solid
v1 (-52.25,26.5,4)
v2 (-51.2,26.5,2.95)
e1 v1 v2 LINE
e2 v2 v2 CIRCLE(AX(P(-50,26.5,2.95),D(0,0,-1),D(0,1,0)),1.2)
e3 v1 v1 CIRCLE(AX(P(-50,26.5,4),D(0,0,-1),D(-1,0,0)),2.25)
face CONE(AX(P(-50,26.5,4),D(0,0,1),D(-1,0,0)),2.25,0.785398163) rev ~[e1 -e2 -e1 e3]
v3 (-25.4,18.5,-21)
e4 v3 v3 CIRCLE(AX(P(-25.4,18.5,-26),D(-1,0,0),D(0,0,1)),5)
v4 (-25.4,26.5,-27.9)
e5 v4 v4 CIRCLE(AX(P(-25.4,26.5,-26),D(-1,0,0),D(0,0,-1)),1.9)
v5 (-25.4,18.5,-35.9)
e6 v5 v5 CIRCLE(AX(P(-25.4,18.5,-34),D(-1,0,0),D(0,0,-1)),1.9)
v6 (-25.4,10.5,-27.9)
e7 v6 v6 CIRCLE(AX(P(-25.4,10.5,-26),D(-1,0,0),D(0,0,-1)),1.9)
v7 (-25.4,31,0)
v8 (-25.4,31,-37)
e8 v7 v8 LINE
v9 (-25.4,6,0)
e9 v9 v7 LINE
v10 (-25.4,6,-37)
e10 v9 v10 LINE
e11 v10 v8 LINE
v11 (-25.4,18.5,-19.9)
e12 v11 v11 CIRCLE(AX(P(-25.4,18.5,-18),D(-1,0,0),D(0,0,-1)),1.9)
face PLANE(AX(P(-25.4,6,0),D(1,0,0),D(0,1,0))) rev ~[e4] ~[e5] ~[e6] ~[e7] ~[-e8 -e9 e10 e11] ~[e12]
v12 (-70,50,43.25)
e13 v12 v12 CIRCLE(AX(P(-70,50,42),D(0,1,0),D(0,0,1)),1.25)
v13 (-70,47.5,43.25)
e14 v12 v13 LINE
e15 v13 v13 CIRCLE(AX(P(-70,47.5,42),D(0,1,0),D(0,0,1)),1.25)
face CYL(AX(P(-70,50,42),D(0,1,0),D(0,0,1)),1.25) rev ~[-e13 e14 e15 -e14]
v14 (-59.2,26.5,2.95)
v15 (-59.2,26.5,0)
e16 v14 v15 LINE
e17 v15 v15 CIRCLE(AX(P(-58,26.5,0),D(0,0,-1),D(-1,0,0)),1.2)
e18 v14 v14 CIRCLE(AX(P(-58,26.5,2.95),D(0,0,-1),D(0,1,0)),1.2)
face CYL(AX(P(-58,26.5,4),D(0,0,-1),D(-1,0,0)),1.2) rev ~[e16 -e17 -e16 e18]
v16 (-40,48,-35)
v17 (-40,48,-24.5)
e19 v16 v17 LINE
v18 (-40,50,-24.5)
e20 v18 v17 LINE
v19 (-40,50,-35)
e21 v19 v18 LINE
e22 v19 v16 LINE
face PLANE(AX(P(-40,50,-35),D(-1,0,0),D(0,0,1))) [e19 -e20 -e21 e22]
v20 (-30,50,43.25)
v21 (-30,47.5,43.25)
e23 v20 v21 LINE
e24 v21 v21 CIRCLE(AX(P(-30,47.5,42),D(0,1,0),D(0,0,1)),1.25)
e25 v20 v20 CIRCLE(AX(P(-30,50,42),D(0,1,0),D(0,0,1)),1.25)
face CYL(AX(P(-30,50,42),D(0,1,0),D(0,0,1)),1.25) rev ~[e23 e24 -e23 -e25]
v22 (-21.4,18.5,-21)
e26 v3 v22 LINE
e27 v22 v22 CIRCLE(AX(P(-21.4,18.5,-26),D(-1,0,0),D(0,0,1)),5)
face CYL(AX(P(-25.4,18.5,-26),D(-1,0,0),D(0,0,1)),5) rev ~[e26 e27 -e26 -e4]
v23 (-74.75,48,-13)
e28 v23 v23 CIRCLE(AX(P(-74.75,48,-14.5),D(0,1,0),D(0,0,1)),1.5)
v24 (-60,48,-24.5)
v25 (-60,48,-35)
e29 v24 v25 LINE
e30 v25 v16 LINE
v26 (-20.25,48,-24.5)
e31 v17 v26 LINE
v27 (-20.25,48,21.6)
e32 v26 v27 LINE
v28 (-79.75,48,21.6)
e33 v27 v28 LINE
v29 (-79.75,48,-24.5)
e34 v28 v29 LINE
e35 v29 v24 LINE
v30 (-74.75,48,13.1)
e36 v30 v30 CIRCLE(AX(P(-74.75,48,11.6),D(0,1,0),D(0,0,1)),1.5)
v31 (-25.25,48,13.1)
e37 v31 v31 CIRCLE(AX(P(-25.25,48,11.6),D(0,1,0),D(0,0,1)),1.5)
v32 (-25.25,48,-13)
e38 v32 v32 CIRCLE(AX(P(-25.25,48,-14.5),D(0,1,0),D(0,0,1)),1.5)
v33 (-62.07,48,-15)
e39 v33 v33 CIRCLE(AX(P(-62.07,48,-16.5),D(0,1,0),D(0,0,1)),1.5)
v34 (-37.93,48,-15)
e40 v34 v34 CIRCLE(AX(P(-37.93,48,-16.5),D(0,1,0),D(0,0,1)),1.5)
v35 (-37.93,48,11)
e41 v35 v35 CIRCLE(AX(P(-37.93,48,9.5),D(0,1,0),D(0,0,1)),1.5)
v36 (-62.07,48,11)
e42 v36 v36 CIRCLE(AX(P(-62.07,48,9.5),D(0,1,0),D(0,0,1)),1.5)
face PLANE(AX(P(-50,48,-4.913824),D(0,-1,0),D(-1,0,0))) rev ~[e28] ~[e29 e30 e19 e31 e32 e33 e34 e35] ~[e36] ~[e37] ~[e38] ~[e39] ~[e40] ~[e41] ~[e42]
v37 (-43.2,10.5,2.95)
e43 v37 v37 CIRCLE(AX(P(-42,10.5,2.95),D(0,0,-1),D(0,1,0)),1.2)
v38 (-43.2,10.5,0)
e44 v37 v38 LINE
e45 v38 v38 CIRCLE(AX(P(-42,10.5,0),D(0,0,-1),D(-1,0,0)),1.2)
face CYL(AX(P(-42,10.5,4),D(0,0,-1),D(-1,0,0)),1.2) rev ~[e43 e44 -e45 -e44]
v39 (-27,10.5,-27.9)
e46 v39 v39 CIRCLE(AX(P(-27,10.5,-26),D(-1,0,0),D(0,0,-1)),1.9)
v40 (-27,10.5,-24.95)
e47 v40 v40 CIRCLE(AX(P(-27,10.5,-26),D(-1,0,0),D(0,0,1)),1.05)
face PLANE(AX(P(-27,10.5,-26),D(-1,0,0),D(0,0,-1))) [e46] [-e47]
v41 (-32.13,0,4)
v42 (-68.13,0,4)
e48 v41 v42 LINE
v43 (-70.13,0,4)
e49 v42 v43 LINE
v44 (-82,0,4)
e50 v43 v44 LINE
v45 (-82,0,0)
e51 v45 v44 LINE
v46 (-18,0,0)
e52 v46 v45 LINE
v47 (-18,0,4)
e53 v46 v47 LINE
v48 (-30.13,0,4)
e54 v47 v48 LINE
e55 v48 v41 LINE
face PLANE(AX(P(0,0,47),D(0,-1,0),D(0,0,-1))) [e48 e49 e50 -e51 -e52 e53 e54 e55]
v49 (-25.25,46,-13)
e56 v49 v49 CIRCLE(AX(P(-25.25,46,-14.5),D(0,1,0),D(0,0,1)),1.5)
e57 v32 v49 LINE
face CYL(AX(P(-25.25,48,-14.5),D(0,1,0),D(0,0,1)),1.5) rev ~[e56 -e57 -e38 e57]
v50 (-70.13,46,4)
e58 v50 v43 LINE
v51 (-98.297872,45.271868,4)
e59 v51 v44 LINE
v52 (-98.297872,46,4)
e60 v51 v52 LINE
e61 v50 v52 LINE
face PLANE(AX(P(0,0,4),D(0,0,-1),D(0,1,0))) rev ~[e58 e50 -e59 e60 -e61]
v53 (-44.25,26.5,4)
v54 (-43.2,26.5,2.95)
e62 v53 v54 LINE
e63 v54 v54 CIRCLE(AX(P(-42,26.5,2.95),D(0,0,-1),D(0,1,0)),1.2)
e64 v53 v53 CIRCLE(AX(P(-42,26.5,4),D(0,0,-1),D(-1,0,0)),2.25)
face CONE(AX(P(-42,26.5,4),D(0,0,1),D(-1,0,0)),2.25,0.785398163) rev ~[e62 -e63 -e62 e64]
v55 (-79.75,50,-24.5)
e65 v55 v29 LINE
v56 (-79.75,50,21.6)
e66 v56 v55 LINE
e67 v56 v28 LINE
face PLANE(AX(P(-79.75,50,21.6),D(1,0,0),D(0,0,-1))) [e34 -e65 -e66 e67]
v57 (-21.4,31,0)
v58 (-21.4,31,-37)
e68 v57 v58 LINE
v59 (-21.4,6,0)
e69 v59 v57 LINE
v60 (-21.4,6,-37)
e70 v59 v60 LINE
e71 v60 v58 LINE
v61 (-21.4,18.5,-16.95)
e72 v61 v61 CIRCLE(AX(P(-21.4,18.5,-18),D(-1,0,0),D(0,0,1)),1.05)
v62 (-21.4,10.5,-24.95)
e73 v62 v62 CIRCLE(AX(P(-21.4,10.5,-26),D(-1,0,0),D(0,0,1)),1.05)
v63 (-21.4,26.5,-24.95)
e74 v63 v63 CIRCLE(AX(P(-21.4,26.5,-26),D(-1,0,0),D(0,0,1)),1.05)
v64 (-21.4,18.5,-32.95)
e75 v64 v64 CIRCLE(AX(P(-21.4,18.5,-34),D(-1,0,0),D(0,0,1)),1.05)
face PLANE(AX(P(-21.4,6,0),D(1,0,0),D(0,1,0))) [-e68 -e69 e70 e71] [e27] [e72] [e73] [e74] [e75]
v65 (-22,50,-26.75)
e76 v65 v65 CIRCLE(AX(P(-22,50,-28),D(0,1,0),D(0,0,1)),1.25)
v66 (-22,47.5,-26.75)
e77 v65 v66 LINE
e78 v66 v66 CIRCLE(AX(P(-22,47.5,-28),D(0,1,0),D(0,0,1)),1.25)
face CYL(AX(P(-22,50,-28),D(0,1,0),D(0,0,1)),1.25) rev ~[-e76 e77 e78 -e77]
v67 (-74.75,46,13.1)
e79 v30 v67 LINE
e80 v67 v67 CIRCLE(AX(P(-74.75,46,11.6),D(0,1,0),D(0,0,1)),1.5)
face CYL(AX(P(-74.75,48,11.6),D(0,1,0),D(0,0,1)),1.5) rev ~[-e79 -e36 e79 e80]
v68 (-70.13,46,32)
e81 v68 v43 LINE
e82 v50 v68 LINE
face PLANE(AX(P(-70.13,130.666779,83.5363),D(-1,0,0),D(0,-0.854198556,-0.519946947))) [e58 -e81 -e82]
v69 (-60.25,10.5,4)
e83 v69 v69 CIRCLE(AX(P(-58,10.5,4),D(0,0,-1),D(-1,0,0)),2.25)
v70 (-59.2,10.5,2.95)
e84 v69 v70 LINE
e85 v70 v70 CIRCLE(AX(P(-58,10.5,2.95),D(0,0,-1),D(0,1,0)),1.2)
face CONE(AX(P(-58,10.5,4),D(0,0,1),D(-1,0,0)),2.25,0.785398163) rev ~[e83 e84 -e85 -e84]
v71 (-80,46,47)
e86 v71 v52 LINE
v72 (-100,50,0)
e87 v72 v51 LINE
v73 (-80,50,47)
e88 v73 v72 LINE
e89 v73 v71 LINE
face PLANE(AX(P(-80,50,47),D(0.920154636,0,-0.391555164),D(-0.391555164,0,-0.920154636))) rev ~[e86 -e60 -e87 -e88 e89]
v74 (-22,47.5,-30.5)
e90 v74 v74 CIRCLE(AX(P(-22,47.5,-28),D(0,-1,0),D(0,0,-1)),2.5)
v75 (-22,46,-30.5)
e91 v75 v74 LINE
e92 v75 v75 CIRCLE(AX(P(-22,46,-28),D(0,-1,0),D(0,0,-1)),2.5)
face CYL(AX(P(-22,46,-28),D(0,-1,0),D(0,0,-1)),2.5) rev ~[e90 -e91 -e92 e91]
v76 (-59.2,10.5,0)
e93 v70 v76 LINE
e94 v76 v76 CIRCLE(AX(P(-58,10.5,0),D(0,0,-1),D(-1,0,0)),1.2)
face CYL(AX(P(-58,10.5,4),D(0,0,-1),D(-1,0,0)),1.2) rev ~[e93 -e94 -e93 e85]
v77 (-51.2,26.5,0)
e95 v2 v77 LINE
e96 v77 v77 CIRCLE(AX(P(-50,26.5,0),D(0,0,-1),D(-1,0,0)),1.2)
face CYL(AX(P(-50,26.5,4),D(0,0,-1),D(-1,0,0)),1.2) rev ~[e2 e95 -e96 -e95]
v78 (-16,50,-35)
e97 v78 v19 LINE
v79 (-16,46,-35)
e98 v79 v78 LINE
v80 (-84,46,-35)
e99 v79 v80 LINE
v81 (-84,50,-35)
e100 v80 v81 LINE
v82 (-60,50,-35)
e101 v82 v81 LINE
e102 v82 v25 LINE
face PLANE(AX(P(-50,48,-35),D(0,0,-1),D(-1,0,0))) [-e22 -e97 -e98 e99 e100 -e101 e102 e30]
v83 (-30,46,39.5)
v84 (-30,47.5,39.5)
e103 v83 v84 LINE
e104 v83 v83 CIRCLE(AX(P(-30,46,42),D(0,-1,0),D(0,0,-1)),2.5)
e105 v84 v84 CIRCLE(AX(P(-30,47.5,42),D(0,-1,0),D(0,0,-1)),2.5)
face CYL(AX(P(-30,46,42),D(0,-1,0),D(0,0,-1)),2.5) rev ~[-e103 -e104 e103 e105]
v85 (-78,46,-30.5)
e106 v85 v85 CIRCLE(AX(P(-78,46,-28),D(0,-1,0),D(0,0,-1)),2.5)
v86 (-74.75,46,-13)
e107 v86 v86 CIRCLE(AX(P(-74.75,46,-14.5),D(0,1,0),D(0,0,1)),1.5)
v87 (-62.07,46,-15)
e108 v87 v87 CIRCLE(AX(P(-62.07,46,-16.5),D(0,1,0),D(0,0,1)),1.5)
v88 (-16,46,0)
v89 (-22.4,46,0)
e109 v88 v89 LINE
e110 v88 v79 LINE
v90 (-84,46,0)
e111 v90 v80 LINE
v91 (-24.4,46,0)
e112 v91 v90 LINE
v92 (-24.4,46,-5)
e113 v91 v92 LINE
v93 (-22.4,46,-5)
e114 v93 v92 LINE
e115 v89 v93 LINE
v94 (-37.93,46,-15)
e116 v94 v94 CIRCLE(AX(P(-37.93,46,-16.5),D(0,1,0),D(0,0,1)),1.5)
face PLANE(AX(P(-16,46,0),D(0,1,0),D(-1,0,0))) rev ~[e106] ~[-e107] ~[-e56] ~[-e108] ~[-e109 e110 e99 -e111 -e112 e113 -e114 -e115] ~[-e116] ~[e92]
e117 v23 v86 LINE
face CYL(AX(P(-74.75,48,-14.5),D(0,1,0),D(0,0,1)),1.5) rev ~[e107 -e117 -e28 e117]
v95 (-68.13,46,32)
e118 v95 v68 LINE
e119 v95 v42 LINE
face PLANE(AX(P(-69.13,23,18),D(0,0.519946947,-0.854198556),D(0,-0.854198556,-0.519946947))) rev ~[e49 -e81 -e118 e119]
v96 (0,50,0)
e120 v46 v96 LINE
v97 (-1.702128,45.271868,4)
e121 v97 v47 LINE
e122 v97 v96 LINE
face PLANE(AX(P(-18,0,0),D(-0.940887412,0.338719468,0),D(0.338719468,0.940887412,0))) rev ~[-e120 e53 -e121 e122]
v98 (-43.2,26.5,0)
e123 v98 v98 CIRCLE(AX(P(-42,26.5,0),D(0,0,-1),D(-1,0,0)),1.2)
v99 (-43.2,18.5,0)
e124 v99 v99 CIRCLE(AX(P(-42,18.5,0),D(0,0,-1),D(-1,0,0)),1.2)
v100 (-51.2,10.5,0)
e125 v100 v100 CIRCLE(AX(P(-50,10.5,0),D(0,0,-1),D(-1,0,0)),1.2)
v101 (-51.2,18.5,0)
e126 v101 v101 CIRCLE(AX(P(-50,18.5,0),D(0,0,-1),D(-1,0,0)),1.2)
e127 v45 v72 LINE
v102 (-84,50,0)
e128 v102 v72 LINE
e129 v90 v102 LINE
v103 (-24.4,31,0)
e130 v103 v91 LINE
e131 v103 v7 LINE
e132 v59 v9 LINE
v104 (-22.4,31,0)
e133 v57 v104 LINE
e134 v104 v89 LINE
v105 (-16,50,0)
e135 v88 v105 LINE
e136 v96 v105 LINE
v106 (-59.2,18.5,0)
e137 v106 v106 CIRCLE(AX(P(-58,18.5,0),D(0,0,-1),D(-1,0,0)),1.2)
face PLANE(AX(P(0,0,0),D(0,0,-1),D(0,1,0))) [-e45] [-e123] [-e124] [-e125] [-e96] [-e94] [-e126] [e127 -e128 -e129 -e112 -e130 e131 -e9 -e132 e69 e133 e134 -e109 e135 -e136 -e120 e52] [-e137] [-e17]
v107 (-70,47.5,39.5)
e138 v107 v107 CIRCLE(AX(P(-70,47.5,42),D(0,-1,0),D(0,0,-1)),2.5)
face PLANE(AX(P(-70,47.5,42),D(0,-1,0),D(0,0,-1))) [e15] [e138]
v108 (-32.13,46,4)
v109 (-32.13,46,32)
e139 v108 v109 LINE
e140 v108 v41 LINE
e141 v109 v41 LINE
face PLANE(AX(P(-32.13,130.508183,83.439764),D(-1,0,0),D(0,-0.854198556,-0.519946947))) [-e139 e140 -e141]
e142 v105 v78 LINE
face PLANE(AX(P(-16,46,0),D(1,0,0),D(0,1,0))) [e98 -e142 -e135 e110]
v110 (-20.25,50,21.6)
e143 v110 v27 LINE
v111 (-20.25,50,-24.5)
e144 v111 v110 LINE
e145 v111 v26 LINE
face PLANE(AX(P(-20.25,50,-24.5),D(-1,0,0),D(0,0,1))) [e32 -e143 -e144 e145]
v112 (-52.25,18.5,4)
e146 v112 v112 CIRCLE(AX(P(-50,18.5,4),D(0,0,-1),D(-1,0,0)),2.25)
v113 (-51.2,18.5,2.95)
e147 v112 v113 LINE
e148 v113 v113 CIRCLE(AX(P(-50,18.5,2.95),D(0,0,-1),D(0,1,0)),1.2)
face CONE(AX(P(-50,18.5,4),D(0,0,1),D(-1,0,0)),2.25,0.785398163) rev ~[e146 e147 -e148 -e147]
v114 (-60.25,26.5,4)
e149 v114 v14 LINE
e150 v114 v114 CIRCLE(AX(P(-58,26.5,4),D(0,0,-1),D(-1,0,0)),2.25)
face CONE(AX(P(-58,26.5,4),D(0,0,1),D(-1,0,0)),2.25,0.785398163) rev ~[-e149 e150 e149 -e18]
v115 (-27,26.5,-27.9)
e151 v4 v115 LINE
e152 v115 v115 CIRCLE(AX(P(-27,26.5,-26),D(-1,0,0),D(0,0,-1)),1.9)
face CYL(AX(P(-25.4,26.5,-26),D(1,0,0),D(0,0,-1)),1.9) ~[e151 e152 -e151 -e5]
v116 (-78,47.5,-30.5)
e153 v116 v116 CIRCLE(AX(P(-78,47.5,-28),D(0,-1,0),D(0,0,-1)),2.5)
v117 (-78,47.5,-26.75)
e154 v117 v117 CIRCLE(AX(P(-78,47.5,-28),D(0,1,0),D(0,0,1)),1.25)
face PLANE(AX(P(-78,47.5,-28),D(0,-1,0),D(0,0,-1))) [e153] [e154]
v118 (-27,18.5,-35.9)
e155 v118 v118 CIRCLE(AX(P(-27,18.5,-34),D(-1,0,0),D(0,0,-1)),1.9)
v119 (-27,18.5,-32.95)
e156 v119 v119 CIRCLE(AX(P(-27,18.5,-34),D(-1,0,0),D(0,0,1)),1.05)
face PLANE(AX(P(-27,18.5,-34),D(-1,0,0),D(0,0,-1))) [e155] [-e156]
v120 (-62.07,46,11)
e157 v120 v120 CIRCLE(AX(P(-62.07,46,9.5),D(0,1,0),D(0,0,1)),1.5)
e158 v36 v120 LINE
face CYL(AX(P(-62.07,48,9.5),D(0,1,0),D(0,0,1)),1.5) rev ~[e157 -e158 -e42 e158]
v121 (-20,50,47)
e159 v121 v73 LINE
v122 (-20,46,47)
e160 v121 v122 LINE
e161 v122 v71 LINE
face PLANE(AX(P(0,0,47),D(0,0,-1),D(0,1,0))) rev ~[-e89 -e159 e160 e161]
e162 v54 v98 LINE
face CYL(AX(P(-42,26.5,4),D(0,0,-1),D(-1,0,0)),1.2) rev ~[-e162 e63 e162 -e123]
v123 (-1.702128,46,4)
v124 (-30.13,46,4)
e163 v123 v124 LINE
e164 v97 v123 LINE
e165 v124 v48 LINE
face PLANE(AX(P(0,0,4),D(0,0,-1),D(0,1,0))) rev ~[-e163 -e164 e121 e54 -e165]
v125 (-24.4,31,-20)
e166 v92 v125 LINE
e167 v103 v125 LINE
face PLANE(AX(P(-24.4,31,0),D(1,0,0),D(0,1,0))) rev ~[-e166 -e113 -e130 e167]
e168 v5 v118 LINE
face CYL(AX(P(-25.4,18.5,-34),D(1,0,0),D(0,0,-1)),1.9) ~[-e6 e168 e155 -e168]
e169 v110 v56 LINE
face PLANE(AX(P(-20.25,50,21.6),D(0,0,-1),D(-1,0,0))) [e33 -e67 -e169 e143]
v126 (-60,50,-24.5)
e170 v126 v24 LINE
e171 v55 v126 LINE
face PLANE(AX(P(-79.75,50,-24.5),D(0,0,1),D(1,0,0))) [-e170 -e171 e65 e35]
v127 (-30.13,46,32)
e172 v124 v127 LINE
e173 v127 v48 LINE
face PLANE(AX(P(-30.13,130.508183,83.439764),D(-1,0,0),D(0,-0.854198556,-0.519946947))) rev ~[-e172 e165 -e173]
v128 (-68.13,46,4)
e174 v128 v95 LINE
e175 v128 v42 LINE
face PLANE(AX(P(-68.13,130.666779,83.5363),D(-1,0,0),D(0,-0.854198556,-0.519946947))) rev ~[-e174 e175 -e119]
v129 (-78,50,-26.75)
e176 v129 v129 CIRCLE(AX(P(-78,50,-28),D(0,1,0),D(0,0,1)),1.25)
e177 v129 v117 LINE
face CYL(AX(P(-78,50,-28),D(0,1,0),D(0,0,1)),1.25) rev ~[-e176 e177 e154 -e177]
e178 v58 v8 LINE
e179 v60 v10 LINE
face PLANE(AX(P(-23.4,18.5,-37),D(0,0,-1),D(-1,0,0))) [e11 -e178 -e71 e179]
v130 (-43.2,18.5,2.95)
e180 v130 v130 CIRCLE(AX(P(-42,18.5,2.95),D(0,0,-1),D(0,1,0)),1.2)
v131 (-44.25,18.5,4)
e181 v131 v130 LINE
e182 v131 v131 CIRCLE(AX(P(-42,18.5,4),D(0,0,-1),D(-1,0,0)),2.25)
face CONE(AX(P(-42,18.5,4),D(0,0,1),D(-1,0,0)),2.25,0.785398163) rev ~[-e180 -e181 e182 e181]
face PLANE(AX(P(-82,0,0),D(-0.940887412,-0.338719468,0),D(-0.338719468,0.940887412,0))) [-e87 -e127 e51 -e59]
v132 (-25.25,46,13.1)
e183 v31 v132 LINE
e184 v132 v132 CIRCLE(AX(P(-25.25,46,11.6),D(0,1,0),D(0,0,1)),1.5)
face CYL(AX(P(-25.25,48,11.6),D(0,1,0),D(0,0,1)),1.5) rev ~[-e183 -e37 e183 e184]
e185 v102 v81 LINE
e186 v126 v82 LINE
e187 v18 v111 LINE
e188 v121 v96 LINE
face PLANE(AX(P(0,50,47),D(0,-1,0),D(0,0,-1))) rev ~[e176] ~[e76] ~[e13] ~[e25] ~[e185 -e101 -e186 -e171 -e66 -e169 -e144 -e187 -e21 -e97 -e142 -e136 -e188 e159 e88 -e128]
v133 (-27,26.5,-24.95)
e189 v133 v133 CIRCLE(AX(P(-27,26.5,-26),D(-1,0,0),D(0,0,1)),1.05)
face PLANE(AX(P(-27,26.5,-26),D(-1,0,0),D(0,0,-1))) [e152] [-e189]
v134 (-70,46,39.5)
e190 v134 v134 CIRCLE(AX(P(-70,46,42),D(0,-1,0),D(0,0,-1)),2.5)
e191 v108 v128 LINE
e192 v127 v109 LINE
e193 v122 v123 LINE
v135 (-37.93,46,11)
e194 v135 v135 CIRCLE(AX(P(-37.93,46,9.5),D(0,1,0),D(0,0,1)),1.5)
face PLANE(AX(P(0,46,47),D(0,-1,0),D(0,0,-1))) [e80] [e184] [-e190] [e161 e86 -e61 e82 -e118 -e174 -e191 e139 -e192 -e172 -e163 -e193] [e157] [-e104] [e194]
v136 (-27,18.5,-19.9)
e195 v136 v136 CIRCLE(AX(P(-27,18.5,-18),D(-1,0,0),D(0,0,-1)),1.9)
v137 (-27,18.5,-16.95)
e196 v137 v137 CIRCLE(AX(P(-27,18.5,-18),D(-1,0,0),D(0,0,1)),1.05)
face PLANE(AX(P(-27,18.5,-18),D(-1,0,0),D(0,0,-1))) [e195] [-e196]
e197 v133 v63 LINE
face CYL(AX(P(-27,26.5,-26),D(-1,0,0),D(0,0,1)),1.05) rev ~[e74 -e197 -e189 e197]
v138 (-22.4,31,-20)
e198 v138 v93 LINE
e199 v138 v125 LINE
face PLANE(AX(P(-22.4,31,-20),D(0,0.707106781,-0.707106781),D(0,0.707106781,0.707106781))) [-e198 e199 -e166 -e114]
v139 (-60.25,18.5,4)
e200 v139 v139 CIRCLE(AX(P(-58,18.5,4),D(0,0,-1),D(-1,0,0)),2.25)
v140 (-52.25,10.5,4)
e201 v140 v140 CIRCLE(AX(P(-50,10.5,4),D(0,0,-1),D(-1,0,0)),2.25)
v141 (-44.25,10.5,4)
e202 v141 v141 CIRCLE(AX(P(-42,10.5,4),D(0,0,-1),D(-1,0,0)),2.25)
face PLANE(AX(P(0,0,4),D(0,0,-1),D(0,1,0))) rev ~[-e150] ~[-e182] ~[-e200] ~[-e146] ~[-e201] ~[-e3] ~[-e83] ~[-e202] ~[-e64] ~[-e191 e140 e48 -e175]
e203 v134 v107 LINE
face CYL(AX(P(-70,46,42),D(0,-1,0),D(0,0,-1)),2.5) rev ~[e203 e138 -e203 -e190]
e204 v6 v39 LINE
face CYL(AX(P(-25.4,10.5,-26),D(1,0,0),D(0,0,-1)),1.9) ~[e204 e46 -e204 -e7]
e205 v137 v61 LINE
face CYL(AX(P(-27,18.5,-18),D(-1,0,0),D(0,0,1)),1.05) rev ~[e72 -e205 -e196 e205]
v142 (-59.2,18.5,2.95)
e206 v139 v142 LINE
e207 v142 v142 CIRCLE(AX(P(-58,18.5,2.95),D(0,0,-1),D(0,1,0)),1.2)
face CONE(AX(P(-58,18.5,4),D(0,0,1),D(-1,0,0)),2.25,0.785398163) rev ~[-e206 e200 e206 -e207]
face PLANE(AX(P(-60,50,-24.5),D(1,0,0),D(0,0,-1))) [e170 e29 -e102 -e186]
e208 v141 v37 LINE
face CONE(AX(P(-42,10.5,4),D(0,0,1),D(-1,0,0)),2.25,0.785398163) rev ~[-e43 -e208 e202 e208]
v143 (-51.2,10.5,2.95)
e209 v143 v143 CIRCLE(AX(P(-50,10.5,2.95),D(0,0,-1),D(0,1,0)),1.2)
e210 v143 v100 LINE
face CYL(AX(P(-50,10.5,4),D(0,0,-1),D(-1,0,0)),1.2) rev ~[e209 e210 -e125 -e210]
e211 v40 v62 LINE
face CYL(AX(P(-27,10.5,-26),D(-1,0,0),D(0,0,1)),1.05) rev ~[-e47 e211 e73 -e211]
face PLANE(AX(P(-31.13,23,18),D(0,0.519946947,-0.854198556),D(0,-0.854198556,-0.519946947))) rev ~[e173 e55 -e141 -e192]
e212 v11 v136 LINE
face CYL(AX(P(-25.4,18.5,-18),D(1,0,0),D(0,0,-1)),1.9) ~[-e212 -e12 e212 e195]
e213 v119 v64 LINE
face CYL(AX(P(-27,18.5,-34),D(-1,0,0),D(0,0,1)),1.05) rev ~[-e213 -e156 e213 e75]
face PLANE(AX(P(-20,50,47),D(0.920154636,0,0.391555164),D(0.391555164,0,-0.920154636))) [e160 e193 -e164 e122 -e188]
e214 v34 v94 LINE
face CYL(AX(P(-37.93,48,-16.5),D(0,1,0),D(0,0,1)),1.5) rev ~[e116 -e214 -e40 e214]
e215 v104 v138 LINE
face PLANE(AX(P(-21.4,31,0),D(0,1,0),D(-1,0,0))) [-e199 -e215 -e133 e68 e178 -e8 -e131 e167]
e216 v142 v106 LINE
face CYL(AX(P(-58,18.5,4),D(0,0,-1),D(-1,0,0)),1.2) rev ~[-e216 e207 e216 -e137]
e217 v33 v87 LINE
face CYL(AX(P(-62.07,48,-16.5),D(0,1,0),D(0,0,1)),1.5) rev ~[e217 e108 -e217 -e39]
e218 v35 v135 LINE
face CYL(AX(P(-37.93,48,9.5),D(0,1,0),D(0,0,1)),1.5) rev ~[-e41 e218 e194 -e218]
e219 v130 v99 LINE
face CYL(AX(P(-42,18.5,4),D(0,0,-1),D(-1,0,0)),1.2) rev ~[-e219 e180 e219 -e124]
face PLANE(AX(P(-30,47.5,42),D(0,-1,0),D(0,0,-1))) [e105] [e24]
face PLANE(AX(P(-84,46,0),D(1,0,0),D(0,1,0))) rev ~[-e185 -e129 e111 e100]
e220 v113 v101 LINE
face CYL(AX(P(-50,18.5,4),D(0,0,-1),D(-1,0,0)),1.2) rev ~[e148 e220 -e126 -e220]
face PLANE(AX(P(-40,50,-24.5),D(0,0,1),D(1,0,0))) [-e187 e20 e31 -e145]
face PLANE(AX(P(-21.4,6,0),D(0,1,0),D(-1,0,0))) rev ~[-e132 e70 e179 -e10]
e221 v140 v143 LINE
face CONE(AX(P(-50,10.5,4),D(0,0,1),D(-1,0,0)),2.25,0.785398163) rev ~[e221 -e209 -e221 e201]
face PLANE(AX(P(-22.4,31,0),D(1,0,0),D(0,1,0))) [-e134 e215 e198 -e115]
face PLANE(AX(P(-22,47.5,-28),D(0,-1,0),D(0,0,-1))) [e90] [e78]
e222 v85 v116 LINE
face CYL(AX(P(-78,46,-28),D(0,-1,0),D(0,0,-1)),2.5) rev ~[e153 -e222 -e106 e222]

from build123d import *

# Parameters (mm, degrees)
SKETCH_1_W                = 47
SKETCH_1_H                = 50
EXTRUDE_1_DEPTH           = 100
SKETCH_2_W                = 43
SKETCH_2_H                = 46
CUT_EXTRUDE_1_DEPTH       = 122.280666225
HOLE_WIZARD_1_D           = 2.4
HOLE_WIZARD_1_CSINK_D     = 4.5
HOLE_WIZARD_1_CSINK_ANGLE = 90
SKETCH_31_W               = 4
SKETCH_31_H               = 25
EXTRUDE_4_DEPTH           = 37
SKETCH_32_R               = 5
CUT_EXTRUDE_2_DEPTH       = 4
SKETCH_33_R               = 1.9
EXTRUDE_5_DEPTH           = 1.6
SKETCH_34_R               = 1.05
CUT_EXTRUDE_3_DEPTH       = 101.189819842
SKETCH_35_W               = 68
SKETCH_35_H               = 4
EXTRUDE_6_DEPTH           = 35
CUT_EXTRUDE_4_REACH       = 123.281
SKETCH_36_R               = 1.25
CUT_EXTRUDE_5_REACH       = 123.281
CUT_EXTRUDE_6_REACH       = 123.281
SKETCH_39_R               = 2.5
CUT_EXTRUDE_7_DEPTH       = 1.5
CUT_EXTRUDE_8_DEPTH       = 2
CUT_EXTRUDE_9_REACH       = 122.47
SKETCH_41_R               = 1.5
SKETCH_42_R               = 1.5
CUT_EXTRUDE_10_DEPTH      = 2
RIB_2_REACH               = 99.933
SKETCH_46_WALL_W          = 251.717080448
SKETCH_46_WALL_H          = 2
RIB_3_REACH               = 100.118
SKETCH_47_WALL_W          = 252.08841221
SKETCH_47_WALL_H          = 2
SKETCH_48_W               = 2
SKETCH_48_H               = 15
EXTRUDE_7_DEPTH           = 20
CUT_EXTRUDE_11_REACH      = 105.589


with BuildPart() as part:
    # 草图1 → 凸台-拉伸1 (new body)
    with BuildSketch(Plane(origin=(0, 0, 0), x_dir=(0, 0, -1), z_dir=(1, 0, 0))):
        with Locations((-23.5, 25)):
            Rectangle(SKETCH_1_W, SKETCH_1_H)
    extrude(amount=-EXTRUDE_1_DEPTH)

    # 草图2 → 切除-拉伸1 (cut, through all)
    with BuildSketch(Plane(origin=(0, 0, 0), x_dir=(0, 0, -1), z_dir=(1, 0, 0))):
        with Locations((-25.5, 23)):
            Rectangle(SKETCH_2_W, SKETCH_2_H)
    extrude(amount=-CUT_EXTRUDE_1_DEPTH, mode=Mode.SUBTRACT)

    # 打孔尺寸(%根据十字)槽沉头木螺钉的类型1 (through all)
    with Locations(Plane.XY.offset(4)):
        with Locations((-58, 26.5), (-50, 26.5), (-58, 18.5), (-50, 18.5), (-58, 10.5), (-50, 10.5), (-42, 10.5), (-42, 18.5), (-42, 26.5)):
            CounterSinkHole(HOLE_WIZARD_1_D / 2, HOLE_WIZARD_1_CSINK_D / 2, counter_sink_angle=HOLE_WIZARD_1_CSINK_ANGLE)

    # 草图31 → 凸台-拉伸4 (add)
    with BuildSketch(Plane(origin=(0, 0, 0), x_dir=(-1, 0, 0), z_dir=(0, 0, -1))):
        with Locations((23.4, 18.5)):
            Rectangle(SKETCH_31_W, SKETCH_31_H)
    extrude(amount=EXTRUDE_4_DEPTH)

    # 草图32 → 切除-拉伸2 (cut)
    with BuildSketch(Plane.ZY.offset(25.4)):
        with Locations((-26, 18.5)):
            Circle(SKETCH_32_R)
    extrude(amount=-CUT_EXTRUDE_2_DEPTH, mode=Mode.SUBTRACT)

    # 草图33 → 凸台-拉伸5 (add)
    with BuildSketch(Plane.ZY.offset(25.4)):
        with Locations(Location((-26, 26.5, 0), (0, 0, 180))):
            Circle(SKETCH_33_R)
        with Locations(Location((-18, 18.5, 0), (0, 0, 180))):
            Circle(SKETCH_33_R)
        with Locations(Location((-26, 10.5, 0), (0, 0, 180))):
            Circle(SKETCH_33_R)
        with Locations(Location((-34, 18.5, 0), (0, 0, 180))):
            Circle(SKETCH_33_R)
    extrude(amount=EXTRUDE_5_DEPTH)

    # 草图34 → 切除-拉伸3 (cut, through all)
    with BuildSketch(Plane.ZY.offset(27)):
        with Locations((-26, 26.5)):
            Circle(SKETCH_34_R)
        with Locations((-18, 18.5)):
            Circle(SKETCH_34_R)
        with Locations((-26, 10.5)):
            Circle(SKETCH_34_R)
        with Locations((-34, 18.5)):
            Circle(SKETCH_34_R)
    extrude(amount=-CUT_EXTRUDE_3_DEPTH, mode=Mode.SUBTRACT)

    # 草图35 → 凸台-拉伸6 (add)
    with BuildSketch(Plane(origin=(0, 0, 0), x_dir=(-1, 0, 0), z_dir=(0, 0, -1))):
        with Locations((50, 48)):
            Rectangle(SKETCH_35_W, SKETCH_35_H)
    extrude(amount=EXTRUDE_6_DEPTH)

    # 草图36 → 切除-拉伸4 (cut, up to next)
    with BuildSketch(Plane(origin=(0, 50, 0), x_dir=(1, 0, 0), z_dir=(0, 1, 0)), mode=Mode.PRIVATE) as cut_extrude_4_sk1:
        with Locations(Location((-78, 28, 0), (0, 0, 270))):
            Circle(SKETCH_36_R)
    cut_extrude_4_tool1 = extrude(cut_extrude_4_sk1.sketch, amount=-CUT_EXTRUDE_4_REACH, mode=Mode.PRIVATE) & part.part
    # 草图36 → 切除-拉伸4 (cut, up to next)
    with BuildSketch(Plane(origin=(0, 50, 0), x_dir=(1, 0, 0), z_dir=(0, 1, 0)), mode=Mode.PRIVATE) as cut_extrude_4_sk2:
        with Locations(Location((-22, 28, 0), (0, 0, 270))):
            Circle(SKETCH_36_R)
    cut_extrude_4_tool2 = extrude(cut_extrude_4_sk2.sketch, amount=-CUT_EXTRUDE_4_REACH, mode=Mode.PRIVATE) & part.part
    # 草图36 → 切除-拉伸4 (cut, up to next)
    with BuildSketch(Plane(origin=(0, 50, 0), x_dir=(1, 0, 0), z_dir=(0, 1, 0)), mode=Mode.PRIVATE) as cut_extrude_4_sk3:
        with Locations(Location((-70, -42, 0), (0, 0, 270))):
            Circle(SKETCH_36_R)
    cut_extrude_4_tool3 = extrude(cut_extrude_4_sk3.sketch, amount=-CUT_EXTRUDE_4_REACH, mode=Mode.PRIVATE) & part.part
    # 草图36 → 切除-拉伸4 (cut, up to next)
    with BuildSketch(Plane(origin=(0, 50, 0), x_dir=(1, 0, 0), z_dir=(0, 1, 0)), mode=Mode.PRIVATE) as cut_extrude_4_sk4:
        with Locations(Location((-30, -42, 0), (0, 0, 270))):
            Circle(SKETCH_36_R)
    cut_extrude_4_tool4 = extrude(cut_extrude_4_sk4.sketch, amount=-CUT_EXTRUDE_4_REACH, mode=Mode.PRIVATE) & part.part
    add(cut_extrude_4_tool1.solids().sort_by_distance((-78, 50, -28))[0], mode=Mode.SUBTRACT)
    add(cut_extrude_4_tool2.solids().sort_by_distance((-22, 50, -28))[0], mode=Mode.SUBTRACT)
    add(cut_extrude_4_tool3.solids().sort_by_distance((-70, 50, 42))[0], mode=Mode.SUBTRACT)
    add(cut_extrude_4_tool4.solids().sort_by_distance((-30, 50, 42))[0], mode=Mode.SUBTRACT)

    # 草图37 → 切除-拉伸5 (cut, up to next)
    with BuildSketch(Plane(origin=(0, 50, 0), x_dir=(1, 0, 0), z_dir=(0, 1, 0)), mode=Mode.PRIVATE) as cut_extrude_5_sk1:
        Polygon((-100, -47), (-80, -47), (-100, 0), align=None)
    cut_extrude_5_tool1 = extrude(cut_extrude_5_sk1.sketch, amount=-CUT_EXTRUDE_5_REACH, mode=Mode.PRIVATE) & part.part
    # 草图37 → 切除-拉伸5 (cut, up to next)
    with BuildSketch(Plane(origin=(0, 50, 0), x_dir=(1, 0, 0), z_dir=(0, 1, 0)), mode=Mode.PRIVATE) as cut_extrude_5_sk2:
        Polygon((0, -47), (-20, -47), (0, 0), align=None)
    cut_extrude_5_tool2 = extrude(cut_extrude_5_sk2.sketch, amount=-CUT_EXTRUDE_5_REACH, mode=Mode.PRIVATE) & part.part
    add(cut_extrude_5_tool1.solids().sort_by_distance((-93.333333, 50, 31.333333))[0], mode=Mode.SUBTRACT)
    add(cut_extrude_5_tool2.solids().sort_by_distance((-6.666667, 50, 31.333333))[0], mode=Mode.SUBTRACT)

    # 草图38 → 切除-拉伸6 (cut, up to next)
    with BuildSketch(Plane(origin=(0, 0, 0), x_dir=(-1, 0, 0), z_dir=(0, 0, -1)), mode=Mode.PRIVATE) as cut_extrude_6_sk1:
        Polygon((0, 0), (18, 0), (0, 50), align=None)
    cut_extrude_6_tool1 = extrude(cut_extrude_6_sk1.sketch, amount=-CUT_EXTRUDE_6_REACH, mode=Mode.PRIVATE) & part.part
    # 草图38 → 切除-拉伸6 (cut, up to next)
    with BuildSketch(Plane(origin=(0, 0, 0), x_dir=(-1, 0, 0), z_dir=(0, 0, -1)), mode=Mode.PRIVATE) as cut_extrude_6_sk2:
        Polygon((100, 0), (82, 0), (100, 50), align=None)
    cut_extrude_6_tool2 = extrude(cut_extrude_6_sk2.sketch, amount=-CUT_EXTRUDE_6_REACH, mode=Mode.PRIVATE) & part.part
    add(cut_extrude_6_tool1.solids().sort_by_distance((-6, 16.666667, 0))[0], mode=Mode.SUBTRACT)
    add(cut_extrude_6_tool2.solids().sort_by_distance((-94, 16.666667, 0))[0], mode=Mode.SUBTRACT)

    # 草图39 → 切除-拉伸7 (cut)
    with BuildSketch(Plane.XZ.offset(-46)):
        with Locations(Location((-70, 42, 0), (0, 0, 270))):
            Circle(SKETCH_39_R)
        with Locations(Location((-30, 42, 0), (0, 0, 270))):
            Circle(SKETCH_39_R)
        with Locations(Location((-78, -28, 0), (0, 0, 270))):
            Circle(SKETCH_39_R)
        with Locations(Location((-22, -28, 0), (0, 0, 270))):
            Circle(SKETCH_39_R)
    extrude(amount=-CUT_EXTRUDE_7_DEPTH, mode=Mode.SUBTRACT)

    # 草图40 → 切除-拉伸8 (cut)
    with BuildSketch(Plane(origin=(0, 50, 0), x_dir=(1, 0, 0), z_dir=(0, 1, 0))):
        Polygon((-79.75, 24.5), (-60, 24.5), (-60, 35), (-40, 35), (-40, 24.5), (-20.25, 24.5), (-20.25, -21.6), (-79.75, -21.6), align=None)
    extrude(amount=-CUT_EXTRUDE_8_DEPTH, mode=Mode.SUBTRACT)

    # 草图41 → 切除-拉伸9 (cut, up to next)
    with BuildSketch(Plane(origin=(0, 48, 0), x_dir=(1, 0, 0), z_dir=(0, 1, 0)), mode=Mode.PRIVATE) as cut_extrude_9_sk1:
        with Locations(Location((-74.75, 14.5, 0), (0, 0, 270))):
            Circle(SKETCH_41_R)
    cut_extrude_9_tool1 = extrude(cut_extrude_9_sk1.sketch, amount=-CUT_EXTRUDE_9_REACH, mode=Mode.PRIVATE) & part.part
    # 草图41 → 切除-拉伸9 (cut, up to next)
    with BuildSketch(Plane(origin=(0, 48, 0), x_dir=(1, 0, 0), z_dir=(0, 1, 0)), mode=Mode.PRIVATE) as cut_extrude_9_sk2:
        with Locations(Location((-74.75, -11.6, 0), (0, 0, 270))):
            Circle(SKETCH_41_R)
    cut_extrude_9_tool2 = extrude(cut_extrude_9_sk2.sketch, amount=-CUT_EXTRUDE_9_REACH, mode=Mode.PRIVATE) & part.part
    # 草图41 → 切除-拉伸9 (cut, up to next)
    with BuildSketch(Plane(origin=(0, 48, 0), x_dir=(1, 0, 0), z_dir=(0, 1, 0)), mode=Mode.PRIVATE) as cut_extrude_9_sk3:
        with Locations(Location((-25.25, 14.5, 0), (0, 0, 270))):
            Circle(SKETCH_41_R)
    cut_extrude_9_tool3 = extrude(cut_extrude_9_sk3.sketch, amount=-CUT_EXTRUDE_9_REACH, mode=Mode.PRIVATE) & part.part
    # 草图41 → 切除-拉伸9 (cut, up to next)
    with BuildSketch(Plane(origin=(0, 48, 0), x_dir=(1, 0, 0), z_dir=(0, 1, 0)), mode=Mode.PRIVATE) as cut_extrude_9_sk4:
        with Locations(Location((-25.25, -11.6, 0), (0, 0, 270))):
            Circle(SKETCH_41_R)
    cut_extrude_9_tool4 = extrude(cut_extrude_9_sk4.sketch, amount=-CUT_EXTRUDE_9_REACH, mode=Mode.PRIVATE) & part.part
    add(cut_extrude_9_tool1.solids().sort_by_distance((-74.75, 48, -14.5))[0], mode=Mode.SUBTRACT)
    add(cut_extrude_9_tool2.solids().sort_by_distance((-74.75, 48, 11.6))[0], mode=Mode.SUBTRACT)
    add(cut_extrude_9_tool3.solids().sort_by_distance((-25.25, 48, -14.5))[0], mode=Mode.SUBTRACT)
    add(cut_extrude_9_tool4.solids().sort_by_distance((-25.25, 48, 11.6))[0], mode=Mode.SUBTRACT)

    # 草图42 → 切除-拉伸10 (cut)
    with BuildSketch(Plane(origin=(0, 48, 0), x_dir=(1, 0, 0), z_dir=(0, 1, 0))):
        with Locations(Location((-62.07, 16.5, 0), (0, 0, 270))):
            Circle(SKETCH_42_R)
        with Locations(Location((-37.93, 16.5, 0), (0, 0, 270))):
            Circle(SKETCH_42_R)
        with Locations(Location((-37.93, -9.5, 0), (0, 0, 270))):
            Circle(SKETCH_42_R)
        with Locations(Location((-62.07, -9.5, 0), (0, 0, 270))):
            Circle(SKETCH_42_R)
    extrude(amount=-CUT_EXTRUDE_10_DEPTH, mode=Mode.SUBTRACT)

    # 草图46 wall → 筋2 (add, up to next)
    with BuildSketch(Plane(origin=(-30.13, 23, 18), x_dir=(0, -0.854198555614, -0.519946946896), z_dir=(0, 0.519946946896, -0.854198555614)), mode=Mode.PRIVATE) as rib_2_sk1:
        with Locations((0, 1)):
            Rectangle(SKETCH_46_WALL_W, SKETCH_46_WALL_H)
    rib_2_tool1 = extrude(rib_2_sk1.sketch, amount=RIB_2_REACH, mode=Mode.PRIVATE) - part.part
    add(rib_2_tool1.solids().sort_by_distance((-30.13, 23, 18))[0])

    # 草图47 wall → 筋3 (add, up to next)
    with BuildSketch(Plane(origin=(-70.13, 23, 18), x_dir=(0, -0.854198555614, -0.519946946896), z_dir=(0, 0.519946946896, -0.854198555614)), mode=Mode.PRIVATE) as rib_3_sk1:
        with Locations((0, -1)):
            Rectangle(SKETCH_47_WALL_W, SKETCH_47_WALL_H)
    rib_3_tool1 = extrude(rib_3_sk1.sketch, amount=RIB_3_REACH, mode=Mode.PRIVATE) - part.part
    add(rib_3_tool1.solids().sort_by_distance((-70.13, 23, 18))[0])

    # 草图48 → 凸台-拉伸7 (add)
    with BuildSketch(Plane(origin=(0, 0, 0), x_dir=(-1, 0, 0), z_dir=(0, 0, -1))):
        with Locations((23.4, 38.5)):
            Rectangle(SKETCH_48_W, SKETCH_48_H)
    extrude(amount=EXTRUDE_7_DEPTH)

    # 草图49 → 切除-拉伸11 (cut, up to next)
    with BuildSketch(Plane(origin=(-22.4, 0, 0), x_dir=(0, 0, -1), z_dir=(1, 0, 0)), mode=Mode.PRIVATE) as cut_extrude_11_sk1:
        Polygon((5, 46), (20, 46), (20, 31), align=None)
    cut_extrude_11_tool1 = extrude(cut_extrude_11_sk1.sketch, amount=-CUT_EXTRUDE_11_REACH, mode=Mode.PRIVATE) & part.part
    add(cut_extrude_11_tool1.solids().sort_by_distance((-22.4, 41, -15))[0], mode=Mode.SUBTRACT)


solid = part.part
